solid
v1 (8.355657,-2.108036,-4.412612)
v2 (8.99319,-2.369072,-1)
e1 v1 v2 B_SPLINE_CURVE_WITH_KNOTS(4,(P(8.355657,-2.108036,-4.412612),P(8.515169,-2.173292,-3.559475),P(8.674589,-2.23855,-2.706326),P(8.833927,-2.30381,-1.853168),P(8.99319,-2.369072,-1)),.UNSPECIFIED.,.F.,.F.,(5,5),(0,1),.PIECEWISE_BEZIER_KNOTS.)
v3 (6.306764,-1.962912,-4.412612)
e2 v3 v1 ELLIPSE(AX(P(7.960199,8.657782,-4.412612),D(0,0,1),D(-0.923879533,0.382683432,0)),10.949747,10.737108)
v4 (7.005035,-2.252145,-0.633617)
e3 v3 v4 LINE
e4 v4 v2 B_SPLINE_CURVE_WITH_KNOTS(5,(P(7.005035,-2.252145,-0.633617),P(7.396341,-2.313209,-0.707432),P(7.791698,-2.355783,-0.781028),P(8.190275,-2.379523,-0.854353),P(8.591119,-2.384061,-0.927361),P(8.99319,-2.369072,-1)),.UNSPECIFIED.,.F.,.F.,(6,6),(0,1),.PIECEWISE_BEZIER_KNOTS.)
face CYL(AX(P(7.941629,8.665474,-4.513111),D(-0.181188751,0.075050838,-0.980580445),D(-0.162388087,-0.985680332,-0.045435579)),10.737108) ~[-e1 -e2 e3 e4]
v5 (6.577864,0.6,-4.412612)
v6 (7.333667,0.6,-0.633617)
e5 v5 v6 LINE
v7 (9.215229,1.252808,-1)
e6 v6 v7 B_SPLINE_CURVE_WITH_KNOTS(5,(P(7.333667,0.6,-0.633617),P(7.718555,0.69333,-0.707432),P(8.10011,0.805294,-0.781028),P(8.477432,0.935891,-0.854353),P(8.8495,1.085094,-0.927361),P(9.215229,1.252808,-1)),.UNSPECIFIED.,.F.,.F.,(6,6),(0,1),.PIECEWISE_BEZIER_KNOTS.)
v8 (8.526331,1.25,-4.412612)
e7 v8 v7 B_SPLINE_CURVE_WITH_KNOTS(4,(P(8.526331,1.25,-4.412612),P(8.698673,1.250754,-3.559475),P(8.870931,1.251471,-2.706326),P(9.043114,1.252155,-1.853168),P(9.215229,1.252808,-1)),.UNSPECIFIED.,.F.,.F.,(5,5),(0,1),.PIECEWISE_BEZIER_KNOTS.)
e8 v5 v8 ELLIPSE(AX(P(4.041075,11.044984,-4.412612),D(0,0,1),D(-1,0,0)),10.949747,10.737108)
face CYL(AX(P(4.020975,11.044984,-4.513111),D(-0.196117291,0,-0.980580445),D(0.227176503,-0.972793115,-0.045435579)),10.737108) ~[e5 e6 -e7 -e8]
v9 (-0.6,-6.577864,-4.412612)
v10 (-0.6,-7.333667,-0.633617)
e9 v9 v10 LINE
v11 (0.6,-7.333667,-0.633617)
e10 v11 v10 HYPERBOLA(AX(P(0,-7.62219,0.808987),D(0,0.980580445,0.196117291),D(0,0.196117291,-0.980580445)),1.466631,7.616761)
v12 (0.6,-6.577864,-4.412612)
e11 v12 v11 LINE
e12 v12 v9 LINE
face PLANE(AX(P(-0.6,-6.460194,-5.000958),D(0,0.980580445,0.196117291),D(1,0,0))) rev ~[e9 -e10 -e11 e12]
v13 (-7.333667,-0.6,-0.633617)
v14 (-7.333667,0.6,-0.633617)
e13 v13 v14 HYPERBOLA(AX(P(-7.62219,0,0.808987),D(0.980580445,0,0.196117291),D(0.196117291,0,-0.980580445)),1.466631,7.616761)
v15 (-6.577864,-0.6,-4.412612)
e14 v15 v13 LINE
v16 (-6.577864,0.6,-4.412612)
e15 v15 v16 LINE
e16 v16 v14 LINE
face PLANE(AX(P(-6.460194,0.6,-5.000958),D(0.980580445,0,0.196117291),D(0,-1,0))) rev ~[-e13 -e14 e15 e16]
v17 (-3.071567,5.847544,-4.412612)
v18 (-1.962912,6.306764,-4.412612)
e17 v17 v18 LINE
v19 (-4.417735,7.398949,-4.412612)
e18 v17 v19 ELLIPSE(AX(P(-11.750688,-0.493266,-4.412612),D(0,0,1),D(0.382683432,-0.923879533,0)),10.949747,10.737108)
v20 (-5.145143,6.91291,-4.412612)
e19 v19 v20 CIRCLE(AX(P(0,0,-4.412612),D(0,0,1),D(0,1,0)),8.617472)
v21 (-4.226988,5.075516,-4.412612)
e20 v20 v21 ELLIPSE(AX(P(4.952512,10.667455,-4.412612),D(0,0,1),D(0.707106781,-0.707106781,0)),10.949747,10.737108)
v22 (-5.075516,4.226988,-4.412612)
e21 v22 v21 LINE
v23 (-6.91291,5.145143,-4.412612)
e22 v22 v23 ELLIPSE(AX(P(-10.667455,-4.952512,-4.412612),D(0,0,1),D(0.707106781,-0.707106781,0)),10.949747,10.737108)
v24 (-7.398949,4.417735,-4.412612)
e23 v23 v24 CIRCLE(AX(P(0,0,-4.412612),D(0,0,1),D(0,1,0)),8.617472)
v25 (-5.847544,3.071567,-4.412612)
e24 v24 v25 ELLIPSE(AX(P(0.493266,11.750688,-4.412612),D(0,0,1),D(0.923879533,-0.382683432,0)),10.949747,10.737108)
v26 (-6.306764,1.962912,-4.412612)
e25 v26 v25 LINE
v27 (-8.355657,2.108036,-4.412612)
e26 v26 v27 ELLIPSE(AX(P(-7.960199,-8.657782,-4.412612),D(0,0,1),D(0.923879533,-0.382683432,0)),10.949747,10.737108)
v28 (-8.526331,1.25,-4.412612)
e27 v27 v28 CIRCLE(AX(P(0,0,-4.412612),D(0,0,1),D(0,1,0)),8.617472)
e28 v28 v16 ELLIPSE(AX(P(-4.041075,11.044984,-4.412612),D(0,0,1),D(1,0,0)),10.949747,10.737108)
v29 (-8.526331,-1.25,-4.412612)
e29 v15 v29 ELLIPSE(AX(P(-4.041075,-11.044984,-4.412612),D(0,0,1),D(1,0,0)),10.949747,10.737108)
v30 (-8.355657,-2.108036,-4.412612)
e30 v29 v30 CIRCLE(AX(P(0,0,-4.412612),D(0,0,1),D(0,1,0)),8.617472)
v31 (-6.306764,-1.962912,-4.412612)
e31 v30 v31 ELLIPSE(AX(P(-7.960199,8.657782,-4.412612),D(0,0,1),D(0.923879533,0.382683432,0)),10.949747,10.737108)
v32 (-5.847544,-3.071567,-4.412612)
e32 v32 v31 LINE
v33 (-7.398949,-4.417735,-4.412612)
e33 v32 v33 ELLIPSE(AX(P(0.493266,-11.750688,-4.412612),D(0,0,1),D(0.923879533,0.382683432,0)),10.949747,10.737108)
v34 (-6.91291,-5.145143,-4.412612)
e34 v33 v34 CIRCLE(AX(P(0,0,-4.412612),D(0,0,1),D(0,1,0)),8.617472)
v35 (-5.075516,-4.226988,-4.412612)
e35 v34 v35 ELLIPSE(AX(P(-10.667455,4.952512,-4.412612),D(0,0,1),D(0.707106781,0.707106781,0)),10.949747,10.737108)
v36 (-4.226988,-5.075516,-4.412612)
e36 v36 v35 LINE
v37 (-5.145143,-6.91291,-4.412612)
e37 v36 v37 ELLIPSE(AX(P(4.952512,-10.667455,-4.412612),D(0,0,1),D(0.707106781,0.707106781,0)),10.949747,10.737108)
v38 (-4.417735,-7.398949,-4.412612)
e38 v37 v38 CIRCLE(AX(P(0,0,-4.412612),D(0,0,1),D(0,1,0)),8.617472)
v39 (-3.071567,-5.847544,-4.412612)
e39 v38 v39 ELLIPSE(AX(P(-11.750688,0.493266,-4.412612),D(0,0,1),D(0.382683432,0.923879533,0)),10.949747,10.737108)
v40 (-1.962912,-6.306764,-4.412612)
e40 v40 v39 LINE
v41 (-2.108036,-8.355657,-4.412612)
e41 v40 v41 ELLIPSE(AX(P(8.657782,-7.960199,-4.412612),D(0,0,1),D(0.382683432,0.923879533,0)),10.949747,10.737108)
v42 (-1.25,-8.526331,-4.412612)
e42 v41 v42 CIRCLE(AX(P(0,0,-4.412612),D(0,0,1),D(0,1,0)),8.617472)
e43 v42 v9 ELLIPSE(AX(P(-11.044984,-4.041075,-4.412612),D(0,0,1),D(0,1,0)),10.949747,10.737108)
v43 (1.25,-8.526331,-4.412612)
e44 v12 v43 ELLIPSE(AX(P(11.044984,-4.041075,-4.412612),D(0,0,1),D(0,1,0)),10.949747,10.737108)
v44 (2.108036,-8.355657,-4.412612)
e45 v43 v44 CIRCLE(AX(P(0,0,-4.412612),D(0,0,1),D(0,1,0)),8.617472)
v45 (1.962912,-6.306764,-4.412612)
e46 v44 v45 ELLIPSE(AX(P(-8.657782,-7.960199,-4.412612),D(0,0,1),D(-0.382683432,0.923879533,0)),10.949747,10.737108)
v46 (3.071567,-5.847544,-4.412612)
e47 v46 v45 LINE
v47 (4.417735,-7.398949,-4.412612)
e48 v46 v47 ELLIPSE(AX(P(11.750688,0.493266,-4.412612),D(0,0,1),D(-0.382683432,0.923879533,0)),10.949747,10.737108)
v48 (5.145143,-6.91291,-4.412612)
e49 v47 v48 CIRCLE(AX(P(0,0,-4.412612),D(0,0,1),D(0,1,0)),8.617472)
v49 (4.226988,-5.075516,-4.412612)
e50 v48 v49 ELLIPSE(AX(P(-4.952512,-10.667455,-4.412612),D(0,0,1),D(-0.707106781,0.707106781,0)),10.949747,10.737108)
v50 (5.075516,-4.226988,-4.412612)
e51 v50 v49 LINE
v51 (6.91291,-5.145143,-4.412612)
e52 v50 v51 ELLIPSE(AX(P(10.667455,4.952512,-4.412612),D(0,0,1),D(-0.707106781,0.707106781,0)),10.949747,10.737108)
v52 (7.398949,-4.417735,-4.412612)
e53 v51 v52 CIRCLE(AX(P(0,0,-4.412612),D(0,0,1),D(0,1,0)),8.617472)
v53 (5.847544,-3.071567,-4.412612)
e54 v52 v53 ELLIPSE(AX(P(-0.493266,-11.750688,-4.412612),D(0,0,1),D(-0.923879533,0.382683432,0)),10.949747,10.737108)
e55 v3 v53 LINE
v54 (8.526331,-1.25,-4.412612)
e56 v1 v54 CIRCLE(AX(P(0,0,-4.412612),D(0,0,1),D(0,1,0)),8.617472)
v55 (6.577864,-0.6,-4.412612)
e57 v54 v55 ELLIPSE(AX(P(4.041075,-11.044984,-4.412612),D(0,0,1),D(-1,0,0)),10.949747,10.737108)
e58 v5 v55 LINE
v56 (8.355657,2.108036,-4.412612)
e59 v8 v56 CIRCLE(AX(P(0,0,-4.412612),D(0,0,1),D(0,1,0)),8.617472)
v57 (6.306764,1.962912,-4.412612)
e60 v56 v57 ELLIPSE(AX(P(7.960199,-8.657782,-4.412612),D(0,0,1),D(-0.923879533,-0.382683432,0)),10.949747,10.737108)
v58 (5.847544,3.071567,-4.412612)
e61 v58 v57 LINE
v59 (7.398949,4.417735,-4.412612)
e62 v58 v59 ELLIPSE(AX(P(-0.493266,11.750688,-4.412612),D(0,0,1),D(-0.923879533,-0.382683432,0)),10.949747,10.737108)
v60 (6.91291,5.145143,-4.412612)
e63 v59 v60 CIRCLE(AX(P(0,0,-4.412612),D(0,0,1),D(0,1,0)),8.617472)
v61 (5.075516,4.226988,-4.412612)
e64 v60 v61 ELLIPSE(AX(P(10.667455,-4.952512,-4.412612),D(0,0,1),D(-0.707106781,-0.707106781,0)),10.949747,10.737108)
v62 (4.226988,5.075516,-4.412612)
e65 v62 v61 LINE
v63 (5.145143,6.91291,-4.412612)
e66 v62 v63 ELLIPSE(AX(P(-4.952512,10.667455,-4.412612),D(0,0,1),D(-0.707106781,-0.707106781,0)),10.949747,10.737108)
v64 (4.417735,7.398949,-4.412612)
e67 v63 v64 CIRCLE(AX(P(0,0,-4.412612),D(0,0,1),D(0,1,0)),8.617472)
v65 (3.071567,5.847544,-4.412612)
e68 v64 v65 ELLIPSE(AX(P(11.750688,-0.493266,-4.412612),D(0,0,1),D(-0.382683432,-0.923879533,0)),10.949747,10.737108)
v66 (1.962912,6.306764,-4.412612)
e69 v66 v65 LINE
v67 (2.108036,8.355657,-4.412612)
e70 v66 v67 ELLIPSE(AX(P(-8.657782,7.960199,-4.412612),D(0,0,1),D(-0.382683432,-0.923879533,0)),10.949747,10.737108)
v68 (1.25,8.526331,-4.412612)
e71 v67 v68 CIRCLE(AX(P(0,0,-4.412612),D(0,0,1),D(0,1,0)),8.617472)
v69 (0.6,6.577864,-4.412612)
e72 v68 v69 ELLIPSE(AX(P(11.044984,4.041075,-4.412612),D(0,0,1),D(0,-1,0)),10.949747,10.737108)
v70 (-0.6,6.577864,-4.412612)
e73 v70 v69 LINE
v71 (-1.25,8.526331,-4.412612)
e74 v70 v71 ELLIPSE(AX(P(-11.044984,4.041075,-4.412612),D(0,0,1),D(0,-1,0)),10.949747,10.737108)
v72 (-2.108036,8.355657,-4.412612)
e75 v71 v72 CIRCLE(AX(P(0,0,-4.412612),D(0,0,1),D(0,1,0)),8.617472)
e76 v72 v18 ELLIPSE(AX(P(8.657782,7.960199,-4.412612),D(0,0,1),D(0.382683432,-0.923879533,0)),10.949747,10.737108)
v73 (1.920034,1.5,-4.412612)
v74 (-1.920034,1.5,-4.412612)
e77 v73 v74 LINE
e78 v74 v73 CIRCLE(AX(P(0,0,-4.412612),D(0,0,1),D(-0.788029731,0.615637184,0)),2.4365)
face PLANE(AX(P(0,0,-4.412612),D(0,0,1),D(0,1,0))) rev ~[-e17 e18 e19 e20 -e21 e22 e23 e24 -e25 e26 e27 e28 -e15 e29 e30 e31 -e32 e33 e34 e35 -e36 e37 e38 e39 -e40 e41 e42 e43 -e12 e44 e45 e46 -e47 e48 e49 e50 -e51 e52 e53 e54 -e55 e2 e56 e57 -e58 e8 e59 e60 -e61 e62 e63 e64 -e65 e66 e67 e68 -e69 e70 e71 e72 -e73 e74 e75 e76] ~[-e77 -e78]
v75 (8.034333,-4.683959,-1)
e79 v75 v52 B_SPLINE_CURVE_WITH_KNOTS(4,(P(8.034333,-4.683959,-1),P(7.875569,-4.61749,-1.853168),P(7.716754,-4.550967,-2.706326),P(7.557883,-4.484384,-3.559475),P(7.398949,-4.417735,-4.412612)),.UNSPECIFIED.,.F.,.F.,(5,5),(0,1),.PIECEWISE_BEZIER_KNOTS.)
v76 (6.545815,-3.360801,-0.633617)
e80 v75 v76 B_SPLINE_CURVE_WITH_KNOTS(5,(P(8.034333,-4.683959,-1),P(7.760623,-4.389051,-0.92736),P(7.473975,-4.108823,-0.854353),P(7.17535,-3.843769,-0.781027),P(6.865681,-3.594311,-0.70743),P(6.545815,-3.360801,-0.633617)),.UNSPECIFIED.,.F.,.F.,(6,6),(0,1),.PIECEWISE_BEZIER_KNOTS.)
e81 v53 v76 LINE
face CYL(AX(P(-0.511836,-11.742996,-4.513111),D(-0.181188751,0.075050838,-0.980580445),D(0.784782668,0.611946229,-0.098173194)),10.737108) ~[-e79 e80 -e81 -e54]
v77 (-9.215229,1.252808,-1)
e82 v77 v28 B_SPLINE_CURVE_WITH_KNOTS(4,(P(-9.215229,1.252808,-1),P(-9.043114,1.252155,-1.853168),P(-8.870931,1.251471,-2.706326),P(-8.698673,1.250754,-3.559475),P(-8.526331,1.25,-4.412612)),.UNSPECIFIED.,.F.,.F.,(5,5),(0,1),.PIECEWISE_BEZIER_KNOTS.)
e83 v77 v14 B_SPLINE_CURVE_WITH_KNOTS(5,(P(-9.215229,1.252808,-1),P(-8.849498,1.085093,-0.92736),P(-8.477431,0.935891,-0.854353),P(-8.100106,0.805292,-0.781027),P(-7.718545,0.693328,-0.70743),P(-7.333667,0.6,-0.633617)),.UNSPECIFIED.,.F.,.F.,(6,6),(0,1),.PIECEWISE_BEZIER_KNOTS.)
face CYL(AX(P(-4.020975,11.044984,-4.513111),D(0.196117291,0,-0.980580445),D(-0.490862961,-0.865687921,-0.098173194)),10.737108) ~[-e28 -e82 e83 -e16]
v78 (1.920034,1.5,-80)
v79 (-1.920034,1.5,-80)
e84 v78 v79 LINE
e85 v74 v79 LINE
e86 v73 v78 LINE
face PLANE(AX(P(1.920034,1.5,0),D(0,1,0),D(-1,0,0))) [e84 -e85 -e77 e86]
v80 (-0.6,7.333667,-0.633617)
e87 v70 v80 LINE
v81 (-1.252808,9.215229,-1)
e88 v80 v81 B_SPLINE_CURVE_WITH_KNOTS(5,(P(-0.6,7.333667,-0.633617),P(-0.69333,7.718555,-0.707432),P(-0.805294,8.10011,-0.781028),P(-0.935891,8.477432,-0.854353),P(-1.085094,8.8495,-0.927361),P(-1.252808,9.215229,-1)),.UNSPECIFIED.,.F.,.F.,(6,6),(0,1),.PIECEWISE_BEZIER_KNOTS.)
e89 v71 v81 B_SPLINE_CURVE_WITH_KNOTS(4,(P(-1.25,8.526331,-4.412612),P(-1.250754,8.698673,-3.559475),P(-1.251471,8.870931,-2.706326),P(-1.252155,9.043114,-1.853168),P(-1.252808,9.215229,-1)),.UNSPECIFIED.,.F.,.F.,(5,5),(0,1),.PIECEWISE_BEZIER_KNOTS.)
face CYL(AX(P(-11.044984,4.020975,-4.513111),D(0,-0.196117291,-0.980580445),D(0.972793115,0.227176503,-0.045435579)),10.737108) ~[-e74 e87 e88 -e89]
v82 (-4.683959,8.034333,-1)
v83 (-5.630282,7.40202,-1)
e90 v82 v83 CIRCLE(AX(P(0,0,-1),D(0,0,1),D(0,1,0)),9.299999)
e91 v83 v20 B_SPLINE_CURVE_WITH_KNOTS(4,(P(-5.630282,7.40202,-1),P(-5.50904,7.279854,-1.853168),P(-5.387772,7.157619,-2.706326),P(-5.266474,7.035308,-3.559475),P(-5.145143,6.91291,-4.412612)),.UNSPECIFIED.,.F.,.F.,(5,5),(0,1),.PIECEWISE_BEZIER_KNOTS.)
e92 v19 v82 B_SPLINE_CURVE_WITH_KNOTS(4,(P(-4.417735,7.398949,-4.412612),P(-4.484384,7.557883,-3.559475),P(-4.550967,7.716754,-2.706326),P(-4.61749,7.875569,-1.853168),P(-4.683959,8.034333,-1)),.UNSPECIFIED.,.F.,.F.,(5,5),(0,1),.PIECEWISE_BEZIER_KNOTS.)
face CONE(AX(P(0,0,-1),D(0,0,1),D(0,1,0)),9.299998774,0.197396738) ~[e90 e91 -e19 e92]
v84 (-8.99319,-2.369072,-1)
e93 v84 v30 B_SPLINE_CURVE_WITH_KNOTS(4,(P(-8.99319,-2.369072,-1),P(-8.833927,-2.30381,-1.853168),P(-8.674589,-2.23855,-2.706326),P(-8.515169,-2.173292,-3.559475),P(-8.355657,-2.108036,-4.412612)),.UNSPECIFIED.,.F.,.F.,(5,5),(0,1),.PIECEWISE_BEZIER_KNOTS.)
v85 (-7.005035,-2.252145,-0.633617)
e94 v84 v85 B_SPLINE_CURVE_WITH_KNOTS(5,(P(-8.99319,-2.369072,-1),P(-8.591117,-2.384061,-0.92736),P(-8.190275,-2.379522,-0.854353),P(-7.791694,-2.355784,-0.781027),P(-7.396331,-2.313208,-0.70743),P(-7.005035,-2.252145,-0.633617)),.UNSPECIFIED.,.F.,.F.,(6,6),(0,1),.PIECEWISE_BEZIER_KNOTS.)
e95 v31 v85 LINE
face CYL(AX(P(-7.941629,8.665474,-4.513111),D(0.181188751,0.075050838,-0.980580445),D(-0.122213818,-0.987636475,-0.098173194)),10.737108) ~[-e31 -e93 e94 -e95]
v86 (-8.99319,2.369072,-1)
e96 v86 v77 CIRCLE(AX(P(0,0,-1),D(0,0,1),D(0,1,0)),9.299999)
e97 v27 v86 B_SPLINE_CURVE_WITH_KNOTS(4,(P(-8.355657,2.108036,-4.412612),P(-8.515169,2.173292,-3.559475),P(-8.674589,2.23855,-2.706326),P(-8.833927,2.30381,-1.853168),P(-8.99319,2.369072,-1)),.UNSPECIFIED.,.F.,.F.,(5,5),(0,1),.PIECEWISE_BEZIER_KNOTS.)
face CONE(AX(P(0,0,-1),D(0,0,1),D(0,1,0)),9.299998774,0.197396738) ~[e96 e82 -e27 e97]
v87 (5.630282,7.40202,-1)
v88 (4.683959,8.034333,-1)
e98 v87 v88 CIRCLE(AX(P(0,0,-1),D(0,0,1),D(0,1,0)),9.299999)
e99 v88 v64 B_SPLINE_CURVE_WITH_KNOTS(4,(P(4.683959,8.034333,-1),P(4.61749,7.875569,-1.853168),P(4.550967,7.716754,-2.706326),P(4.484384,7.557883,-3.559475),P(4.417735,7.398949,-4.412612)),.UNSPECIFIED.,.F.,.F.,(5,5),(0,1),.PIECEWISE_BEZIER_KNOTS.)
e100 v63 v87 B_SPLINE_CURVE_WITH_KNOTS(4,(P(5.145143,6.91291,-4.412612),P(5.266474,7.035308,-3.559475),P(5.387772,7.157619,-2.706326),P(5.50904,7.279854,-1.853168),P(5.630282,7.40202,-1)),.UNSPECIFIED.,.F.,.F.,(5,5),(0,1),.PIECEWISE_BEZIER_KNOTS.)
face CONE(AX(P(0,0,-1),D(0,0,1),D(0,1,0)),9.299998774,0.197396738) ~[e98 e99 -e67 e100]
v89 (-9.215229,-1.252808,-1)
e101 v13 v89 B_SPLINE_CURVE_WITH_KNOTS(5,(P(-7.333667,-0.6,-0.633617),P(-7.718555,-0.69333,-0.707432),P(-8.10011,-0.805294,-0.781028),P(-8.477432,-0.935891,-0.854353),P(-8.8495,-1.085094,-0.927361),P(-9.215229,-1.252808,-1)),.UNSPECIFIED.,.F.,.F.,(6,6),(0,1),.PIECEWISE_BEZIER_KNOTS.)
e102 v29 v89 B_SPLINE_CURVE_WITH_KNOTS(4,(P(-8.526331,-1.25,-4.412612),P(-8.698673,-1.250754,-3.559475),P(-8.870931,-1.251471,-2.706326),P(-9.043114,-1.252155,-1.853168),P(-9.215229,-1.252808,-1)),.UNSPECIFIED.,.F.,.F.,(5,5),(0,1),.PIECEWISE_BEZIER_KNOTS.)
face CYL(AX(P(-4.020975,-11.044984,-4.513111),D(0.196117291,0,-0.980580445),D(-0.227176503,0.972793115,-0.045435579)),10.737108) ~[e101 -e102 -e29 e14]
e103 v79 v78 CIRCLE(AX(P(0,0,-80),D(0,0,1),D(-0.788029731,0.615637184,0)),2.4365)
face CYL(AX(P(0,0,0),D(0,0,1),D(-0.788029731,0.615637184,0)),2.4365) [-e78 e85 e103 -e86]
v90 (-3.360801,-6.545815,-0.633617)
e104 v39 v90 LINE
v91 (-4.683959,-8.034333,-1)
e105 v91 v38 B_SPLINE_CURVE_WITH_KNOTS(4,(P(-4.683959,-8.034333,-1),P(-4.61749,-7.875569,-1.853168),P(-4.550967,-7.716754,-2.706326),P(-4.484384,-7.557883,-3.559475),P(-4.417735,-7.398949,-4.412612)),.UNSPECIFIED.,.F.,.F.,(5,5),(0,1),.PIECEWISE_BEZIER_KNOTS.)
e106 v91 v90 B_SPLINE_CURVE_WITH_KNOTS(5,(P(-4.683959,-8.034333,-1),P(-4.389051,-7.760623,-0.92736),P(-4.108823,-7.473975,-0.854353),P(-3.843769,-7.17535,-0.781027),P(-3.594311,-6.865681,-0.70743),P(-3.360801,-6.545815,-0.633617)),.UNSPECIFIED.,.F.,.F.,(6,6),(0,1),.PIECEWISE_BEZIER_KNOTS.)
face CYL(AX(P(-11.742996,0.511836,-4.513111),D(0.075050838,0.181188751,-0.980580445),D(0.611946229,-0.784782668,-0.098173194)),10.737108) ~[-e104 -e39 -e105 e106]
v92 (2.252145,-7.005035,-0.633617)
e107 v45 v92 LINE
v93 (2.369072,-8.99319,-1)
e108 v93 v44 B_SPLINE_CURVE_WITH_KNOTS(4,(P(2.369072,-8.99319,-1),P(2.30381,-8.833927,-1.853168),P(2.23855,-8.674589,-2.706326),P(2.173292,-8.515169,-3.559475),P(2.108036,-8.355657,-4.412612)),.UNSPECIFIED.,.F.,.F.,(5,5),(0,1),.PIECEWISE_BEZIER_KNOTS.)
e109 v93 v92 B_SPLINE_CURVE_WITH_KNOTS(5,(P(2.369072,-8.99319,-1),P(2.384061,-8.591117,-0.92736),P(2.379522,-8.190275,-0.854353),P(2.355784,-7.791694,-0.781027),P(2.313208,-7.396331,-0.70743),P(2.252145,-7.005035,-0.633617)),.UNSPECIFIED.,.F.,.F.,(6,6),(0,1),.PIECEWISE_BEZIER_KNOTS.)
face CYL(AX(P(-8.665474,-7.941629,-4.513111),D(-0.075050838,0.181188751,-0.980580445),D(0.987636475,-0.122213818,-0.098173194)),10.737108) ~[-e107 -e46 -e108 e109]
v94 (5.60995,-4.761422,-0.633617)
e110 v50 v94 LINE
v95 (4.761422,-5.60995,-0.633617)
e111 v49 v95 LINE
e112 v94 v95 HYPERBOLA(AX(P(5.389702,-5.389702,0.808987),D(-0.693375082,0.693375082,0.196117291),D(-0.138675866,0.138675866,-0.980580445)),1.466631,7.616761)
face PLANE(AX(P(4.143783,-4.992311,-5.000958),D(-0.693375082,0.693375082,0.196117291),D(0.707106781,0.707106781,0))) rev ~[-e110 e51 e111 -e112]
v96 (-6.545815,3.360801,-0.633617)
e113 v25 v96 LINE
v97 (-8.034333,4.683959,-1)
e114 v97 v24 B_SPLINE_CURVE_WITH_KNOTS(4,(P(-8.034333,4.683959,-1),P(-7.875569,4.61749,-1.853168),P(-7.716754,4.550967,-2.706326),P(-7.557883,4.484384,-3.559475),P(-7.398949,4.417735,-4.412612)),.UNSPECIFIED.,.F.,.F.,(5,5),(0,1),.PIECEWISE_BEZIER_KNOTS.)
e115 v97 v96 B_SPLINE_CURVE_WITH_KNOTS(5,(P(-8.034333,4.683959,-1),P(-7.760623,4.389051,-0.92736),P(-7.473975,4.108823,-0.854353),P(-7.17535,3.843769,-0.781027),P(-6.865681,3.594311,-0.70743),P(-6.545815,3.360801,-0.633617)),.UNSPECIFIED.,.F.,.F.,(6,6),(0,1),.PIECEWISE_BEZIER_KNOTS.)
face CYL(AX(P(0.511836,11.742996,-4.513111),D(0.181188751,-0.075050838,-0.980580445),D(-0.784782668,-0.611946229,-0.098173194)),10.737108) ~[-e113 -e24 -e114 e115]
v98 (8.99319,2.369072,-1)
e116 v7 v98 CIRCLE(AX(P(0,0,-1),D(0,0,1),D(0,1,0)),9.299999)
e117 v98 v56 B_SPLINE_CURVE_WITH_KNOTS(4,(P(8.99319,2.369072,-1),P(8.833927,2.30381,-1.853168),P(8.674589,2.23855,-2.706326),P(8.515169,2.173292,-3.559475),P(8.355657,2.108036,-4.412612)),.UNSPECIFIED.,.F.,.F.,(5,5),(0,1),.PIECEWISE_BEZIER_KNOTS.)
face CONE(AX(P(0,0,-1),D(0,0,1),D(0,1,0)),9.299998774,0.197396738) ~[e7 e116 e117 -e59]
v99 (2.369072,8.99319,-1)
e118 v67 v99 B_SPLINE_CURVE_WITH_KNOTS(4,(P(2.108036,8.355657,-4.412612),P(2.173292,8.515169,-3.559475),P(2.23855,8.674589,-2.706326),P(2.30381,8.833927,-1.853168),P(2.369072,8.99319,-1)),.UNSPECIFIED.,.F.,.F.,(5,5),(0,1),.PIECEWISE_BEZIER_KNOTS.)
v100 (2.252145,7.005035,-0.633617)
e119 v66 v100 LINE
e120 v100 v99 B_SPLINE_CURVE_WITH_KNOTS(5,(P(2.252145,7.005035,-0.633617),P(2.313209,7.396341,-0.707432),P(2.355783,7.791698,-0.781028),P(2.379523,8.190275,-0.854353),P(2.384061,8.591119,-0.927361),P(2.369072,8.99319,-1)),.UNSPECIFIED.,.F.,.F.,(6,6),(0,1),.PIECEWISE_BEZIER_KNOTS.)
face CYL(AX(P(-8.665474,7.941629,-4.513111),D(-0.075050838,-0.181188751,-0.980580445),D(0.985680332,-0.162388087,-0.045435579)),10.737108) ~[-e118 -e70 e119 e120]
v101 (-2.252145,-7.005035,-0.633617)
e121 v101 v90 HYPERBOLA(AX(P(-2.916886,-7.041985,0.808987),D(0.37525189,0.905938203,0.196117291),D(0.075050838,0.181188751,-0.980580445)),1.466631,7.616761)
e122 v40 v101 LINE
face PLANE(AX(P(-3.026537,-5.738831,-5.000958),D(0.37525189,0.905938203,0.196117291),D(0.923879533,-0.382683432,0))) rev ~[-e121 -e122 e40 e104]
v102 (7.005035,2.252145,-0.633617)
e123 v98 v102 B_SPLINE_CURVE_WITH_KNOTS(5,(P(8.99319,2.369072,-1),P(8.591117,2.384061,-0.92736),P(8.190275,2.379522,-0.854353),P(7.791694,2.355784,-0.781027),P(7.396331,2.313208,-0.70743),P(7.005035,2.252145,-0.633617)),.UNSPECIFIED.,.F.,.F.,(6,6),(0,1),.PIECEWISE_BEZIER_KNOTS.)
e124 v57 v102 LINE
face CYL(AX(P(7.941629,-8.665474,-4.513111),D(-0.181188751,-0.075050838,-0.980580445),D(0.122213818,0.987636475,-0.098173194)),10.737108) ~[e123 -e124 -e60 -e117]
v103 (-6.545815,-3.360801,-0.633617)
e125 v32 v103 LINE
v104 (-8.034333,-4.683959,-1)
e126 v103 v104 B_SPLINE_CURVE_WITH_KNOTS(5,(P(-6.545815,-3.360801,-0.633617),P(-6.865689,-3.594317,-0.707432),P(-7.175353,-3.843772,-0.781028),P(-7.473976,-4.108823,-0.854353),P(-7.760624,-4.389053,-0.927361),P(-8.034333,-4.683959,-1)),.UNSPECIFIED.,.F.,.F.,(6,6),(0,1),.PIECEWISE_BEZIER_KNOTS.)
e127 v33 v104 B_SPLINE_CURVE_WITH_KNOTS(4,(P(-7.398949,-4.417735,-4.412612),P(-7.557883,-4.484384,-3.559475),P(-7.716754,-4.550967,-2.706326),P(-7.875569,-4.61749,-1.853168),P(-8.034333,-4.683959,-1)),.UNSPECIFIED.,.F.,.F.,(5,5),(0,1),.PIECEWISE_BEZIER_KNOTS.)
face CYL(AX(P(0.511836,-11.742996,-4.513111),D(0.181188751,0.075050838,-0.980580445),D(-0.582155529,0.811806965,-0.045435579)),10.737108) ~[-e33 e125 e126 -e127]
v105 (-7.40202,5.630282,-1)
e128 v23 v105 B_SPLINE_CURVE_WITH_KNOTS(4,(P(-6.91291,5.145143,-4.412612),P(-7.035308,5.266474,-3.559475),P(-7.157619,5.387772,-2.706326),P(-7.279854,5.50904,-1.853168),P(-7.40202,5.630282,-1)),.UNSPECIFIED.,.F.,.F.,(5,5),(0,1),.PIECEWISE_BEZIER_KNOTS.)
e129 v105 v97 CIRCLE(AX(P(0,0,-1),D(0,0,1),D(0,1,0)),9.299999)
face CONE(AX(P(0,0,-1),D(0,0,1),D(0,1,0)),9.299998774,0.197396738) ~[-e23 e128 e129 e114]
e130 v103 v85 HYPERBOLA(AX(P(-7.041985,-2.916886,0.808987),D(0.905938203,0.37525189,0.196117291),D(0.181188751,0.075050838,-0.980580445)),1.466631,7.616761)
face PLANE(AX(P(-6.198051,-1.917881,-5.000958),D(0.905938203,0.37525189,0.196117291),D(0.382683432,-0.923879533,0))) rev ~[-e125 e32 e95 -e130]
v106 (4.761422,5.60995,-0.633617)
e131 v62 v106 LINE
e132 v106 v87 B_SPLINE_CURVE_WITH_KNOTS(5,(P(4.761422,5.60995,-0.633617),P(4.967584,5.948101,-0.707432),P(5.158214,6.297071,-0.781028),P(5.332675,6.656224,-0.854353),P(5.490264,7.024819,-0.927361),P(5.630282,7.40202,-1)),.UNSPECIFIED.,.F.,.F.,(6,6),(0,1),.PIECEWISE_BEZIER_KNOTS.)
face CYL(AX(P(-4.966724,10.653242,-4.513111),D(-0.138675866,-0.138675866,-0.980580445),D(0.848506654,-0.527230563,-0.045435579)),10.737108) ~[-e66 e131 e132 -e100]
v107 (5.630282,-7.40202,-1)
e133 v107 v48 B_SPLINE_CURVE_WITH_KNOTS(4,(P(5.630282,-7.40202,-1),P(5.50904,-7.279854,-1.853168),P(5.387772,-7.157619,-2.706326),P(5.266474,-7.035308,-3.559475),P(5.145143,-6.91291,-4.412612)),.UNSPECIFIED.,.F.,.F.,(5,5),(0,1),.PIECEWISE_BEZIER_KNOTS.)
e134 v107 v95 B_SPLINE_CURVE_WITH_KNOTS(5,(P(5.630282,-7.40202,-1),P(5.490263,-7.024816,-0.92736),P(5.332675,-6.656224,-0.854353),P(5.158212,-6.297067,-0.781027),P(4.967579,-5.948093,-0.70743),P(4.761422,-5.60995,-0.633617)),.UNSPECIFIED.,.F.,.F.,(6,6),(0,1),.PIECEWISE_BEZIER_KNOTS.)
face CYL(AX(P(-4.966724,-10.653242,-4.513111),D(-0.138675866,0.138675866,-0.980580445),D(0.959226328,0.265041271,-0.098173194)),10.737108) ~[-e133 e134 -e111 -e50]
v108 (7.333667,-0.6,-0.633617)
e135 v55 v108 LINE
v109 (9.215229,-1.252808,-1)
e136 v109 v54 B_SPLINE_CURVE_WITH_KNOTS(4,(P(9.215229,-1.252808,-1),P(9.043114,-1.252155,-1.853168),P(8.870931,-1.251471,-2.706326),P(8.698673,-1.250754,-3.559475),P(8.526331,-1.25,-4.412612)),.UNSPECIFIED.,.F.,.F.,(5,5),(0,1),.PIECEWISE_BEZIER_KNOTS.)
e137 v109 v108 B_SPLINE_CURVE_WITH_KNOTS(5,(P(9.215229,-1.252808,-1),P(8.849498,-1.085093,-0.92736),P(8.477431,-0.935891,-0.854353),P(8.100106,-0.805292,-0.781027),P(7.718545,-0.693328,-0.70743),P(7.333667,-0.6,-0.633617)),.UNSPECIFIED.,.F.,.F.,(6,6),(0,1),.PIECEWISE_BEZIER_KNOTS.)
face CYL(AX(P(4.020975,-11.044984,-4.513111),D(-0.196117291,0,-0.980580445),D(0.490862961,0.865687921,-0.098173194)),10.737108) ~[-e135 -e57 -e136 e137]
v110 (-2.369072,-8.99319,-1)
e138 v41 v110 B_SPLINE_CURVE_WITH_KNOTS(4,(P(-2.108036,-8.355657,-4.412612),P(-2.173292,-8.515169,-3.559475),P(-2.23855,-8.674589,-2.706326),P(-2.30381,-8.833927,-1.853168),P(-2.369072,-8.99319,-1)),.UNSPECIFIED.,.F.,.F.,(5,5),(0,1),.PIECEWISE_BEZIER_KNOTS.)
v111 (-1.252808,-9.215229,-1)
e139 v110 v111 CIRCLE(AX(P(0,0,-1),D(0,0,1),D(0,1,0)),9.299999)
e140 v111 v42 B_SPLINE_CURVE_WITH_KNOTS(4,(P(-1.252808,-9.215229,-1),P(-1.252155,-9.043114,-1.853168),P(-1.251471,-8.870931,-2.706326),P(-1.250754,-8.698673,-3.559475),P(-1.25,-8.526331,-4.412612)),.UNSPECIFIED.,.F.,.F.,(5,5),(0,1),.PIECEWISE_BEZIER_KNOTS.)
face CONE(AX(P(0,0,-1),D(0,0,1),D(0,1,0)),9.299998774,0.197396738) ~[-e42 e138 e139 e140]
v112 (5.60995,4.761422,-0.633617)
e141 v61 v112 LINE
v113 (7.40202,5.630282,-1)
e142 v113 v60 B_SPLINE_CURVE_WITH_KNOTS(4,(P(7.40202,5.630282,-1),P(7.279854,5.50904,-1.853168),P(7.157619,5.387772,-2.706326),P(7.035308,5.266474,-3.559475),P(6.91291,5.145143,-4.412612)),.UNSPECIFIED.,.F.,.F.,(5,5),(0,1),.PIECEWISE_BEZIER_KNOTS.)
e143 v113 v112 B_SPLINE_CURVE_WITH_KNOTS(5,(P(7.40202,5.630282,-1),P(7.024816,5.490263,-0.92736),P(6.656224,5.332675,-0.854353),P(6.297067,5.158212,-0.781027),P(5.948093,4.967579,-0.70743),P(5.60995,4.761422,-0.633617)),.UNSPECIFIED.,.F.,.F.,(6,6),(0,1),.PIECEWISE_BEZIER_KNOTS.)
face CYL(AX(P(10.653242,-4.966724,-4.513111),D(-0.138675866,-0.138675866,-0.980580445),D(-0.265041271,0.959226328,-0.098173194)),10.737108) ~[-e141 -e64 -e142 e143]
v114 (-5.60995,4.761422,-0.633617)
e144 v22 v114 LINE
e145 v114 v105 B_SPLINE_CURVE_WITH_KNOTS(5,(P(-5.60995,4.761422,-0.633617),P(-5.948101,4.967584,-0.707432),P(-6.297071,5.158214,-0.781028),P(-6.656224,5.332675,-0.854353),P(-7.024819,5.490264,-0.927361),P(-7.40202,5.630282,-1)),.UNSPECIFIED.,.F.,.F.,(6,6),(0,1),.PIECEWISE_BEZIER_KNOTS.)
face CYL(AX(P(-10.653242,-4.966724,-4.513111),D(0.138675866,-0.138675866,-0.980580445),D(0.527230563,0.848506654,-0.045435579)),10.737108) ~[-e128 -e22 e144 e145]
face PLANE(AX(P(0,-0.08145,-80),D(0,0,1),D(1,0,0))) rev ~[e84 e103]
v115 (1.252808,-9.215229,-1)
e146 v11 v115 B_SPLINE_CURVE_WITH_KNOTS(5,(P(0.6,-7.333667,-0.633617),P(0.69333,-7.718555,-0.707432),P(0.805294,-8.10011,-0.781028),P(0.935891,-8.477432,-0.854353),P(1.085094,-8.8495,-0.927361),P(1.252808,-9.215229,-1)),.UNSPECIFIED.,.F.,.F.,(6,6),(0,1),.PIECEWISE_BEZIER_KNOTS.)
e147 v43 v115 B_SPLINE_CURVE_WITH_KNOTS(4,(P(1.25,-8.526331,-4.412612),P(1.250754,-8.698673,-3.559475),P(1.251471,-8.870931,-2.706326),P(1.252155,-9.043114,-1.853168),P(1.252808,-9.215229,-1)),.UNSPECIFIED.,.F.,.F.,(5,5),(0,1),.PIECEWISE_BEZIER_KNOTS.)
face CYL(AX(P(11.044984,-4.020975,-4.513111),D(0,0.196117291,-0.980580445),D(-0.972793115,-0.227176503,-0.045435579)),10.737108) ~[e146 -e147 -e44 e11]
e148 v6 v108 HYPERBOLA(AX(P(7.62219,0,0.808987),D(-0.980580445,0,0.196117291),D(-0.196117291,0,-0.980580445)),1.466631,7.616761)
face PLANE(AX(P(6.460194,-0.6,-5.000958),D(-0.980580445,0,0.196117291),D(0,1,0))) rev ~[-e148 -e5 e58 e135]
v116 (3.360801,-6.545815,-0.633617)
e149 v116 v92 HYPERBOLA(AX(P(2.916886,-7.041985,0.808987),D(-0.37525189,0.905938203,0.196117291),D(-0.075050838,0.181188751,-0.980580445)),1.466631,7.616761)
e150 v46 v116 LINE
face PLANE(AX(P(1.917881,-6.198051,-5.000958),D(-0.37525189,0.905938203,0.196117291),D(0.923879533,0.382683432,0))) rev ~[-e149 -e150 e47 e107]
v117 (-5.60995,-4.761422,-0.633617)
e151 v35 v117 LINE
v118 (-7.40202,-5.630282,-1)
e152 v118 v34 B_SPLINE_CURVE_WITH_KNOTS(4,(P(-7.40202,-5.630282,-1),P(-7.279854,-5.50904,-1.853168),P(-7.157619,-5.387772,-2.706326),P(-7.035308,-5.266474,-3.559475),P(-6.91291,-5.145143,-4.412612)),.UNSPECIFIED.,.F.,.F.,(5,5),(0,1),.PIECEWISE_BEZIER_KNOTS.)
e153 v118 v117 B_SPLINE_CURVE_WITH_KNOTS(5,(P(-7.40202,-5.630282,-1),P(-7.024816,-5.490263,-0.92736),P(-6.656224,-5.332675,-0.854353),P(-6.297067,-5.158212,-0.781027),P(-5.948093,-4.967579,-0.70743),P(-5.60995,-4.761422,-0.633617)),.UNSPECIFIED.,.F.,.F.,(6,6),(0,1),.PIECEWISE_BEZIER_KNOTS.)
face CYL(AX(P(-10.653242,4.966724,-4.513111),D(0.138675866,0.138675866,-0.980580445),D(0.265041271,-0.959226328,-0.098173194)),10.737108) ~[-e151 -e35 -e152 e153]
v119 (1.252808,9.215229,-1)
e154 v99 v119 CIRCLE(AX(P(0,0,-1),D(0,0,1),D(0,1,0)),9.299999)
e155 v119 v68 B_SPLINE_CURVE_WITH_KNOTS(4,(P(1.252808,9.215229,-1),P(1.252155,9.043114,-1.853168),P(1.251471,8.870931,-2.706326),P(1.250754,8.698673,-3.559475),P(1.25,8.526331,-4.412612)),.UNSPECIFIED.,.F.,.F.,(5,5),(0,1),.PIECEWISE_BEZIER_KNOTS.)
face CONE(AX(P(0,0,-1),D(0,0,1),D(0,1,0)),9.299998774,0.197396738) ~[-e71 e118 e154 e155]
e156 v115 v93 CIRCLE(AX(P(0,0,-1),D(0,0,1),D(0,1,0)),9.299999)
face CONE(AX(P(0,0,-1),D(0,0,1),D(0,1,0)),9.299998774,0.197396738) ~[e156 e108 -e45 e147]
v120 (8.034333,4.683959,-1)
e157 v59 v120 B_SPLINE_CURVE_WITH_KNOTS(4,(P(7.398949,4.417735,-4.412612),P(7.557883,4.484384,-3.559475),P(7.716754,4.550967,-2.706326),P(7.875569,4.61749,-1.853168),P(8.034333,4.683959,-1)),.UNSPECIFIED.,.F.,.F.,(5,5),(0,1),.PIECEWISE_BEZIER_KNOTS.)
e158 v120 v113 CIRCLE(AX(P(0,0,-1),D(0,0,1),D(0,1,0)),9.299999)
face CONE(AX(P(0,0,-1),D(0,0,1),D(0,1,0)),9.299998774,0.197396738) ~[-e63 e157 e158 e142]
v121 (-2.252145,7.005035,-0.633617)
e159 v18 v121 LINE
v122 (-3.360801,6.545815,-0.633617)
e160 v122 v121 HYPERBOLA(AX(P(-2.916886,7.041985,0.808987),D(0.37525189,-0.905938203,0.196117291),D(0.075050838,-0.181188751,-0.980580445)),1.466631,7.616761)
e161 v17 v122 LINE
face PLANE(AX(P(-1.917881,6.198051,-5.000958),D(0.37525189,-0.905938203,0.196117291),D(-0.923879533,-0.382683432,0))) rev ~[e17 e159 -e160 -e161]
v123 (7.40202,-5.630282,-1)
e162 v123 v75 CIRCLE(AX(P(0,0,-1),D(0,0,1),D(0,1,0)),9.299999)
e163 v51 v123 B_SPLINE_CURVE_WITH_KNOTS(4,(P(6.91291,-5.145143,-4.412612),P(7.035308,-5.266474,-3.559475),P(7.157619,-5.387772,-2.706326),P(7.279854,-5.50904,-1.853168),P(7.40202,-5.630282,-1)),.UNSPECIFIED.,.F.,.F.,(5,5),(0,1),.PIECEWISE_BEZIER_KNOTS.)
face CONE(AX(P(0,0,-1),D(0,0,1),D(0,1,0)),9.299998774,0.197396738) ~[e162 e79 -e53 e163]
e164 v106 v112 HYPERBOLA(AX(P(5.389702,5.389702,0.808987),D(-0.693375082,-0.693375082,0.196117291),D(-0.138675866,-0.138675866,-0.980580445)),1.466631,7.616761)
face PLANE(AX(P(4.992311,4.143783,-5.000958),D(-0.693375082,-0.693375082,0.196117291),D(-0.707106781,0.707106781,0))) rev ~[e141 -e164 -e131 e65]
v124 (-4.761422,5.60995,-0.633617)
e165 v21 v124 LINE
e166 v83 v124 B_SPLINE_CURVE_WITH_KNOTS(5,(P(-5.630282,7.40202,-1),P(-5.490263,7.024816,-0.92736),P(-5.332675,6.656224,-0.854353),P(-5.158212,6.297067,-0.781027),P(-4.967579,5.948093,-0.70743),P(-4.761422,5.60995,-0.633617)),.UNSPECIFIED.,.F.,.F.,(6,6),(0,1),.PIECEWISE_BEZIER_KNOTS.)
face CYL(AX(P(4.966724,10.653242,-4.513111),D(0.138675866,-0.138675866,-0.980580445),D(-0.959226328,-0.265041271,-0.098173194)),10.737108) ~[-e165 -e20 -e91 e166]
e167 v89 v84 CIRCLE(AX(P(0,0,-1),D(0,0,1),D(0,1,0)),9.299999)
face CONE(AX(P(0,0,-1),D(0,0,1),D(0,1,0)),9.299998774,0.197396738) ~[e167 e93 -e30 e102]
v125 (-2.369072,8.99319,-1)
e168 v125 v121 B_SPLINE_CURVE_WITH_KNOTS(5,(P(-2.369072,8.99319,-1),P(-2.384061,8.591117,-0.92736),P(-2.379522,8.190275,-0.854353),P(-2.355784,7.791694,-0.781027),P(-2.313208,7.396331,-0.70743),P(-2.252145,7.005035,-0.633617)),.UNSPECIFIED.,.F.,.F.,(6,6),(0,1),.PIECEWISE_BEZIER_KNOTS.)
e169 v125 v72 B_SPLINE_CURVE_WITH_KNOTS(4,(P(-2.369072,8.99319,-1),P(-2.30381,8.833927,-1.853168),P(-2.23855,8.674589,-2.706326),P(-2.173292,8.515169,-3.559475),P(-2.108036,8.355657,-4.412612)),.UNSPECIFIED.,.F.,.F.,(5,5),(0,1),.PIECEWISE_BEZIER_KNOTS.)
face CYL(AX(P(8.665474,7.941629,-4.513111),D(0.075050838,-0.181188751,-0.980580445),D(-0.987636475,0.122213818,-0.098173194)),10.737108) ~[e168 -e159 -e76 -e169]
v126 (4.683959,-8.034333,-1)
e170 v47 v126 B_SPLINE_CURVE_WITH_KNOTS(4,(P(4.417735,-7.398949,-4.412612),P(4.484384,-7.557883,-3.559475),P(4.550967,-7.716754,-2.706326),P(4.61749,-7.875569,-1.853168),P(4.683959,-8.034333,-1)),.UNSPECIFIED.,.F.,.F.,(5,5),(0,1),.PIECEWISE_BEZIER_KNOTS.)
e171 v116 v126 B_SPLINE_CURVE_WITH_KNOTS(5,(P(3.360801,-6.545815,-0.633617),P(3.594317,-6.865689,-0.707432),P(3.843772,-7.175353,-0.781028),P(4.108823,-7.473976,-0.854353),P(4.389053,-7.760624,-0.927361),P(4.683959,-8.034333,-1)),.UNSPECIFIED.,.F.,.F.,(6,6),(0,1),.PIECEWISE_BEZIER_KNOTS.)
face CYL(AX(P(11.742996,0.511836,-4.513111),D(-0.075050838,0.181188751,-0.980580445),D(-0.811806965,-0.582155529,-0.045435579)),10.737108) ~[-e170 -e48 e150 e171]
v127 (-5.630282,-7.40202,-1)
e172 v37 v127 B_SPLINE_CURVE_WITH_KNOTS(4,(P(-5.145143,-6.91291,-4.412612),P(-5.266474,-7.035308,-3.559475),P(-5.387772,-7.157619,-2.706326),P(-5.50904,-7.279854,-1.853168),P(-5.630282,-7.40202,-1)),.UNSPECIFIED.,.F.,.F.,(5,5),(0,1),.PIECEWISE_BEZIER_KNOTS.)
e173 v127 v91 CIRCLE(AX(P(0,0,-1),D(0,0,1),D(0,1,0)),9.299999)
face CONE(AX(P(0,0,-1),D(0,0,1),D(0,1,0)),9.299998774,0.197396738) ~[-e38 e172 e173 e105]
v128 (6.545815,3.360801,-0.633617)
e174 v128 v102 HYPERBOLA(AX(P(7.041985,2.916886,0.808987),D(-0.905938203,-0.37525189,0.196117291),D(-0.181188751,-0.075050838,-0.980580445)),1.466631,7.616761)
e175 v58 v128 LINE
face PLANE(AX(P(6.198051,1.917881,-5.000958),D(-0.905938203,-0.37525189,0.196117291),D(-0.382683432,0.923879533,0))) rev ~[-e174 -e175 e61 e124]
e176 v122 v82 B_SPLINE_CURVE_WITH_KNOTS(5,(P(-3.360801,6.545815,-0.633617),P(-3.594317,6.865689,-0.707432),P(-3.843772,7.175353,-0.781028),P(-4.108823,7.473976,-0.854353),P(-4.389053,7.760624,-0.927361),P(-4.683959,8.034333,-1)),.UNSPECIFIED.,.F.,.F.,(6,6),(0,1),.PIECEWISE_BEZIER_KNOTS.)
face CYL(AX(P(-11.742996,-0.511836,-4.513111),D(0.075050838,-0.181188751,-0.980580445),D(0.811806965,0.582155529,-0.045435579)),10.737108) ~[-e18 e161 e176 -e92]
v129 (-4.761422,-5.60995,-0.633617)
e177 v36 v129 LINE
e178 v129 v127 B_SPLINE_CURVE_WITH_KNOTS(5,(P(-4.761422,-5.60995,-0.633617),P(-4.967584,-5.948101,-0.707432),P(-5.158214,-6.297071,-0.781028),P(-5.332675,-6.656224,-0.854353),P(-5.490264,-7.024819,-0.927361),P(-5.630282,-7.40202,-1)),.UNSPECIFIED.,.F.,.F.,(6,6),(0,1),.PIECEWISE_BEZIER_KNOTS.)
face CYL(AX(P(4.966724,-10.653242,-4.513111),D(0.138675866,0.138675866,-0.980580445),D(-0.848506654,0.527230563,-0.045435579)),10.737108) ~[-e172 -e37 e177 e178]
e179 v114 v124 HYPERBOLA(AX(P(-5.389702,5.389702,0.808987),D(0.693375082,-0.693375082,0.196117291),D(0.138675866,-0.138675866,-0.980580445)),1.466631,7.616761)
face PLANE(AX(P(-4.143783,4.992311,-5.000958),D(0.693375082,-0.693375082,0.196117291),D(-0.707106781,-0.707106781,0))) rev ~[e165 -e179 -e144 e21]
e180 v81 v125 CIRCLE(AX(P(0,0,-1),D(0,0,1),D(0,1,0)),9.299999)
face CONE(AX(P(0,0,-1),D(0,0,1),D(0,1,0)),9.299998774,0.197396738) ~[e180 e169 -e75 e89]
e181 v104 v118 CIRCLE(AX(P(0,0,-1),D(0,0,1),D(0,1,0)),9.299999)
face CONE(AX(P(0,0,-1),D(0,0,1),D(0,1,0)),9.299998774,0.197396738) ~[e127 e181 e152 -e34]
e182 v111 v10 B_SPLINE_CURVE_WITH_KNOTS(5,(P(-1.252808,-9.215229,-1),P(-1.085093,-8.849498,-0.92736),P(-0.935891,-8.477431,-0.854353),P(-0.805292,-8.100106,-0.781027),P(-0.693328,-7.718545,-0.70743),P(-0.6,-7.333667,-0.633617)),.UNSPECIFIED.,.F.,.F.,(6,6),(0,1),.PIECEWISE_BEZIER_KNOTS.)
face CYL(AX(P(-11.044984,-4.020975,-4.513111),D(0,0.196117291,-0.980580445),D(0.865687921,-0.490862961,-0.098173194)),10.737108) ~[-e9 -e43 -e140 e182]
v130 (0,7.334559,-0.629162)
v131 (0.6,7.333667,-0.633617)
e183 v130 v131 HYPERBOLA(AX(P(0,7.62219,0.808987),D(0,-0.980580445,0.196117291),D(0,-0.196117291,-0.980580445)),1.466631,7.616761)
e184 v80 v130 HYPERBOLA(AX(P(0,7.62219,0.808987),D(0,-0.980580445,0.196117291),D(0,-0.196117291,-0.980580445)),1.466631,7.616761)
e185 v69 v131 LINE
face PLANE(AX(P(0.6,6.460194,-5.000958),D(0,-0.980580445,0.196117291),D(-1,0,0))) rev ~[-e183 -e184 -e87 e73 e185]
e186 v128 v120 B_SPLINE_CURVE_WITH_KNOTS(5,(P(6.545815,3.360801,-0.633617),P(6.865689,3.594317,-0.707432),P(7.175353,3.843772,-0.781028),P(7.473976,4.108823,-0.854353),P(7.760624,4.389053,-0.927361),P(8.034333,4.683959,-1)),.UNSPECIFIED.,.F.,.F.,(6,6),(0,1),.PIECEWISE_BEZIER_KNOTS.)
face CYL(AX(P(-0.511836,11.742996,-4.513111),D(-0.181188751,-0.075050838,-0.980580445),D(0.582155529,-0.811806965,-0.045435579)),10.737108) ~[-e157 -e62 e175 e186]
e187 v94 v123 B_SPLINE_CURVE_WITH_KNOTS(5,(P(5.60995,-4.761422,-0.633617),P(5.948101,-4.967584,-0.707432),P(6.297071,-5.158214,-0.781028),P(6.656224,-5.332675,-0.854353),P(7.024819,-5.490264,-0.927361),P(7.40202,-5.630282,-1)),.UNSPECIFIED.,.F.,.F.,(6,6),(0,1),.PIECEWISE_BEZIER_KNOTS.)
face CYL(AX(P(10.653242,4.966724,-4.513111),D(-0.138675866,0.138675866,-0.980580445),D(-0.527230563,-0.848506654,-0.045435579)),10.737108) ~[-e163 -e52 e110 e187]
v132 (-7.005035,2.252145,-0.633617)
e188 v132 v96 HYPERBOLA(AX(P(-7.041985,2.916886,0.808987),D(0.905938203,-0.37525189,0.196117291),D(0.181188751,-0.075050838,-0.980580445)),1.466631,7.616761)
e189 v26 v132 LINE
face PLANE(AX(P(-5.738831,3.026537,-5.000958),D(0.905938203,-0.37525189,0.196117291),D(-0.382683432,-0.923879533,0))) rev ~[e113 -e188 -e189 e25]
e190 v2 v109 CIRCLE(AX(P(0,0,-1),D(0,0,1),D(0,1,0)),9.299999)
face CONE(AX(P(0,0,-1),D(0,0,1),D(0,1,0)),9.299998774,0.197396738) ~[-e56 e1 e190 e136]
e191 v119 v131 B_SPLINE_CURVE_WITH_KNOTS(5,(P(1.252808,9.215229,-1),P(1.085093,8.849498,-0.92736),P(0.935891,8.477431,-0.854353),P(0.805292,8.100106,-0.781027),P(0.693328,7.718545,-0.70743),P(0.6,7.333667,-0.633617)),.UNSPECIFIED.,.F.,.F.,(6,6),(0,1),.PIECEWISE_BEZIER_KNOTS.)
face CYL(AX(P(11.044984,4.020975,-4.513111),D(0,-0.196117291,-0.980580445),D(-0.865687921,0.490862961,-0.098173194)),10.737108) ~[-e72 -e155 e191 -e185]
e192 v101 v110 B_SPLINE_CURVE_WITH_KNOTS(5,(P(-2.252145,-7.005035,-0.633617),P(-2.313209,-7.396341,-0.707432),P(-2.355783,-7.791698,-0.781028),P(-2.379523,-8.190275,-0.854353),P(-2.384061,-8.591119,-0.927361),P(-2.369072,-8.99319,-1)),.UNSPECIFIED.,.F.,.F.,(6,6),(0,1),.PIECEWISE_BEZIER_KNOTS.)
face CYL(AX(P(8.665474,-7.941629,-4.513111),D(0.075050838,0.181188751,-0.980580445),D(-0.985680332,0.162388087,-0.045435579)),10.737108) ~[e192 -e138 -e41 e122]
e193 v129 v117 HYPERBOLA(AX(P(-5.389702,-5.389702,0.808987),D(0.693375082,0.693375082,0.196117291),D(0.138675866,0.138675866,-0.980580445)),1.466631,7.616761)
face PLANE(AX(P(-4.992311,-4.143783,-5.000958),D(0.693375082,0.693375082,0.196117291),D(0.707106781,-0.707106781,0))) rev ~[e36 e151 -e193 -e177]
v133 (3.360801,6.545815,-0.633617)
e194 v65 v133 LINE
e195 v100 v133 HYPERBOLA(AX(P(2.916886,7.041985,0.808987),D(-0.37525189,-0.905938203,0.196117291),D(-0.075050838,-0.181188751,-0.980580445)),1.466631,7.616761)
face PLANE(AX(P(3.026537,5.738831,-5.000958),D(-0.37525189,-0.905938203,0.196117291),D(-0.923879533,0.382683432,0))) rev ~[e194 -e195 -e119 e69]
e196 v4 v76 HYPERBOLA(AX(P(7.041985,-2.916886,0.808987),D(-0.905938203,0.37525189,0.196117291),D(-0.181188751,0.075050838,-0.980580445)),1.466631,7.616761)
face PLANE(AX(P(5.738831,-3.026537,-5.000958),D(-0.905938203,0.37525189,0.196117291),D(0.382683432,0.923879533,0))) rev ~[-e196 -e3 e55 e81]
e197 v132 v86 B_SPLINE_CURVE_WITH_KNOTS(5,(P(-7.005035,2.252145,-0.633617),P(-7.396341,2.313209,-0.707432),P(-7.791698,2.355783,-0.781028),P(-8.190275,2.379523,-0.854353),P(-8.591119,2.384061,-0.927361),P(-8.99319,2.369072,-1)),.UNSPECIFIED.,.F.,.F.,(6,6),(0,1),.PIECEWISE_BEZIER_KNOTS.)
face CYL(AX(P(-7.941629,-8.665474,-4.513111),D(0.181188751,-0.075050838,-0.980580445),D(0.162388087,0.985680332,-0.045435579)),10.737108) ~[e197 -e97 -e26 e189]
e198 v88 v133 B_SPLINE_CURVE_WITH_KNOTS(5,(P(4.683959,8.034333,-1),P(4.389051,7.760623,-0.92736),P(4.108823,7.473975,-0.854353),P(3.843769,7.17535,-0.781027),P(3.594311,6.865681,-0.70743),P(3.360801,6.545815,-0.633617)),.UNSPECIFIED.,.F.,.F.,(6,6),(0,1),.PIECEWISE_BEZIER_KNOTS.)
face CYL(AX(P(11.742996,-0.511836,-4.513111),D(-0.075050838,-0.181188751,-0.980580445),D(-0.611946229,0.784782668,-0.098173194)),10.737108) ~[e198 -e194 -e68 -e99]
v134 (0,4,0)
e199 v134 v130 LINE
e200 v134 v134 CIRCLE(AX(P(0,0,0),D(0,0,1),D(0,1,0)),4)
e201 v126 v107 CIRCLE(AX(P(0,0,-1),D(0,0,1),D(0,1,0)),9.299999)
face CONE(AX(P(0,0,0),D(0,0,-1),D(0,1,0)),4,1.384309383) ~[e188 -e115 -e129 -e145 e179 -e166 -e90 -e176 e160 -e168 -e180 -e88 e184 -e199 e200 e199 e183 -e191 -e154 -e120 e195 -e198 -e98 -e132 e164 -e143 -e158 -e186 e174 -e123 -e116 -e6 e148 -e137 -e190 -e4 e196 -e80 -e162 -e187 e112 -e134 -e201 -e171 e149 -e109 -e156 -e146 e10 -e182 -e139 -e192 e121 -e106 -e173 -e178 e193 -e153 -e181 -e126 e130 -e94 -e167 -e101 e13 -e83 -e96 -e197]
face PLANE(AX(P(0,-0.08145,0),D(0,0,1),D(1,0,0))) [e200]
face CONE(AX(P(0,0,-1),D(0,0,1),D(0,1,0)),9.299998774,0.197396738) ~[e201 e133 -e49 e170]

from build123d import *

# Parameters (mm, degrees)
CUT_EXTRUDE1_DEPTH  = 21.72734614
CIRPATTERN1_COUNT   = 16
BOSS_EXTRUDE2_START = -4.412612
BOSS_EXTRUDE2_DEPTH = 80


with BuildPart() as part:
    # Sketch2 → Revolve1 (revolve)
    with BuildSketch(Plane(origin=(0, 0, 0), x_dir=(0, 0, -1), z_dir=(1, 0, 0))):
        Polygon((0, 0), (0, 4), (1, 9.299998774), (4.412612001, 8.617472191), (4.412612001, 0), align=None)
    revolve(axis=Axis((0, 0, -4.412612001), (0, 0, 1)))

    # Sketch6 → Cut-Extrude1 (cut, through all)
    with BuildSketch(Plane(origin=(0, 8.421354901, -5.393192445), x_dir=(-1, 0, 0), z_dir=(0, -0.19611729080207105, -0.9805804445574345))):
        with BuildLine():
            Line((-0.6, -2), (0.6, -2))
            ThreePointArc((0.6, -2), (1.069979771, -0.514520871), (1.75, 0.887299986))
            ThreePointArc((1.75, 0.887299986), (0, 1.049875288), (-1.75, 0.887299986))
            ThreePointArc((-1.75, 0.887299986), (-1.069979771, -0.514520871), (-0.6, -2))
        make_face()
    cut_extrude1 = extrude(amount=-CUT_EXTRUDE1_DEPTH, mode=Mode.SUBTRACT)

    # CirPattern1: Cut-Extrude1 ×16 about axis
    cirpattern1_axis = Axis((0, 0, 0), (0, 0, 1))
    for i in range(1, CIRPATTERN1_COUNT):
        add(cut_extrude1.rotate(cirpattern1_axis, i * 360 / CIRPATTERN1_COUNT), mode=Mode.SUBTRACT)

    # Sketch7 → Boss-Extrude2 (add)
    with BuildSketch(Plane(origin=(0, 0, -4.412612001), x_dir=(-1, 0, 0), z_dir=(0, 0, -1)).offset(BOSS_EXTRUDE2_START)):
        with BuildLine():
            Line((-1.92003444, 1.5), (1.92003444, 1.5))
            ThreePointArc((1.92003444, 1.5), (0, -2.4365), (-1.92003444, 1.5))
        make_face()
    extrude(amount=BOSS_EXTRUDE2_DEPTH)


solid = part.part
